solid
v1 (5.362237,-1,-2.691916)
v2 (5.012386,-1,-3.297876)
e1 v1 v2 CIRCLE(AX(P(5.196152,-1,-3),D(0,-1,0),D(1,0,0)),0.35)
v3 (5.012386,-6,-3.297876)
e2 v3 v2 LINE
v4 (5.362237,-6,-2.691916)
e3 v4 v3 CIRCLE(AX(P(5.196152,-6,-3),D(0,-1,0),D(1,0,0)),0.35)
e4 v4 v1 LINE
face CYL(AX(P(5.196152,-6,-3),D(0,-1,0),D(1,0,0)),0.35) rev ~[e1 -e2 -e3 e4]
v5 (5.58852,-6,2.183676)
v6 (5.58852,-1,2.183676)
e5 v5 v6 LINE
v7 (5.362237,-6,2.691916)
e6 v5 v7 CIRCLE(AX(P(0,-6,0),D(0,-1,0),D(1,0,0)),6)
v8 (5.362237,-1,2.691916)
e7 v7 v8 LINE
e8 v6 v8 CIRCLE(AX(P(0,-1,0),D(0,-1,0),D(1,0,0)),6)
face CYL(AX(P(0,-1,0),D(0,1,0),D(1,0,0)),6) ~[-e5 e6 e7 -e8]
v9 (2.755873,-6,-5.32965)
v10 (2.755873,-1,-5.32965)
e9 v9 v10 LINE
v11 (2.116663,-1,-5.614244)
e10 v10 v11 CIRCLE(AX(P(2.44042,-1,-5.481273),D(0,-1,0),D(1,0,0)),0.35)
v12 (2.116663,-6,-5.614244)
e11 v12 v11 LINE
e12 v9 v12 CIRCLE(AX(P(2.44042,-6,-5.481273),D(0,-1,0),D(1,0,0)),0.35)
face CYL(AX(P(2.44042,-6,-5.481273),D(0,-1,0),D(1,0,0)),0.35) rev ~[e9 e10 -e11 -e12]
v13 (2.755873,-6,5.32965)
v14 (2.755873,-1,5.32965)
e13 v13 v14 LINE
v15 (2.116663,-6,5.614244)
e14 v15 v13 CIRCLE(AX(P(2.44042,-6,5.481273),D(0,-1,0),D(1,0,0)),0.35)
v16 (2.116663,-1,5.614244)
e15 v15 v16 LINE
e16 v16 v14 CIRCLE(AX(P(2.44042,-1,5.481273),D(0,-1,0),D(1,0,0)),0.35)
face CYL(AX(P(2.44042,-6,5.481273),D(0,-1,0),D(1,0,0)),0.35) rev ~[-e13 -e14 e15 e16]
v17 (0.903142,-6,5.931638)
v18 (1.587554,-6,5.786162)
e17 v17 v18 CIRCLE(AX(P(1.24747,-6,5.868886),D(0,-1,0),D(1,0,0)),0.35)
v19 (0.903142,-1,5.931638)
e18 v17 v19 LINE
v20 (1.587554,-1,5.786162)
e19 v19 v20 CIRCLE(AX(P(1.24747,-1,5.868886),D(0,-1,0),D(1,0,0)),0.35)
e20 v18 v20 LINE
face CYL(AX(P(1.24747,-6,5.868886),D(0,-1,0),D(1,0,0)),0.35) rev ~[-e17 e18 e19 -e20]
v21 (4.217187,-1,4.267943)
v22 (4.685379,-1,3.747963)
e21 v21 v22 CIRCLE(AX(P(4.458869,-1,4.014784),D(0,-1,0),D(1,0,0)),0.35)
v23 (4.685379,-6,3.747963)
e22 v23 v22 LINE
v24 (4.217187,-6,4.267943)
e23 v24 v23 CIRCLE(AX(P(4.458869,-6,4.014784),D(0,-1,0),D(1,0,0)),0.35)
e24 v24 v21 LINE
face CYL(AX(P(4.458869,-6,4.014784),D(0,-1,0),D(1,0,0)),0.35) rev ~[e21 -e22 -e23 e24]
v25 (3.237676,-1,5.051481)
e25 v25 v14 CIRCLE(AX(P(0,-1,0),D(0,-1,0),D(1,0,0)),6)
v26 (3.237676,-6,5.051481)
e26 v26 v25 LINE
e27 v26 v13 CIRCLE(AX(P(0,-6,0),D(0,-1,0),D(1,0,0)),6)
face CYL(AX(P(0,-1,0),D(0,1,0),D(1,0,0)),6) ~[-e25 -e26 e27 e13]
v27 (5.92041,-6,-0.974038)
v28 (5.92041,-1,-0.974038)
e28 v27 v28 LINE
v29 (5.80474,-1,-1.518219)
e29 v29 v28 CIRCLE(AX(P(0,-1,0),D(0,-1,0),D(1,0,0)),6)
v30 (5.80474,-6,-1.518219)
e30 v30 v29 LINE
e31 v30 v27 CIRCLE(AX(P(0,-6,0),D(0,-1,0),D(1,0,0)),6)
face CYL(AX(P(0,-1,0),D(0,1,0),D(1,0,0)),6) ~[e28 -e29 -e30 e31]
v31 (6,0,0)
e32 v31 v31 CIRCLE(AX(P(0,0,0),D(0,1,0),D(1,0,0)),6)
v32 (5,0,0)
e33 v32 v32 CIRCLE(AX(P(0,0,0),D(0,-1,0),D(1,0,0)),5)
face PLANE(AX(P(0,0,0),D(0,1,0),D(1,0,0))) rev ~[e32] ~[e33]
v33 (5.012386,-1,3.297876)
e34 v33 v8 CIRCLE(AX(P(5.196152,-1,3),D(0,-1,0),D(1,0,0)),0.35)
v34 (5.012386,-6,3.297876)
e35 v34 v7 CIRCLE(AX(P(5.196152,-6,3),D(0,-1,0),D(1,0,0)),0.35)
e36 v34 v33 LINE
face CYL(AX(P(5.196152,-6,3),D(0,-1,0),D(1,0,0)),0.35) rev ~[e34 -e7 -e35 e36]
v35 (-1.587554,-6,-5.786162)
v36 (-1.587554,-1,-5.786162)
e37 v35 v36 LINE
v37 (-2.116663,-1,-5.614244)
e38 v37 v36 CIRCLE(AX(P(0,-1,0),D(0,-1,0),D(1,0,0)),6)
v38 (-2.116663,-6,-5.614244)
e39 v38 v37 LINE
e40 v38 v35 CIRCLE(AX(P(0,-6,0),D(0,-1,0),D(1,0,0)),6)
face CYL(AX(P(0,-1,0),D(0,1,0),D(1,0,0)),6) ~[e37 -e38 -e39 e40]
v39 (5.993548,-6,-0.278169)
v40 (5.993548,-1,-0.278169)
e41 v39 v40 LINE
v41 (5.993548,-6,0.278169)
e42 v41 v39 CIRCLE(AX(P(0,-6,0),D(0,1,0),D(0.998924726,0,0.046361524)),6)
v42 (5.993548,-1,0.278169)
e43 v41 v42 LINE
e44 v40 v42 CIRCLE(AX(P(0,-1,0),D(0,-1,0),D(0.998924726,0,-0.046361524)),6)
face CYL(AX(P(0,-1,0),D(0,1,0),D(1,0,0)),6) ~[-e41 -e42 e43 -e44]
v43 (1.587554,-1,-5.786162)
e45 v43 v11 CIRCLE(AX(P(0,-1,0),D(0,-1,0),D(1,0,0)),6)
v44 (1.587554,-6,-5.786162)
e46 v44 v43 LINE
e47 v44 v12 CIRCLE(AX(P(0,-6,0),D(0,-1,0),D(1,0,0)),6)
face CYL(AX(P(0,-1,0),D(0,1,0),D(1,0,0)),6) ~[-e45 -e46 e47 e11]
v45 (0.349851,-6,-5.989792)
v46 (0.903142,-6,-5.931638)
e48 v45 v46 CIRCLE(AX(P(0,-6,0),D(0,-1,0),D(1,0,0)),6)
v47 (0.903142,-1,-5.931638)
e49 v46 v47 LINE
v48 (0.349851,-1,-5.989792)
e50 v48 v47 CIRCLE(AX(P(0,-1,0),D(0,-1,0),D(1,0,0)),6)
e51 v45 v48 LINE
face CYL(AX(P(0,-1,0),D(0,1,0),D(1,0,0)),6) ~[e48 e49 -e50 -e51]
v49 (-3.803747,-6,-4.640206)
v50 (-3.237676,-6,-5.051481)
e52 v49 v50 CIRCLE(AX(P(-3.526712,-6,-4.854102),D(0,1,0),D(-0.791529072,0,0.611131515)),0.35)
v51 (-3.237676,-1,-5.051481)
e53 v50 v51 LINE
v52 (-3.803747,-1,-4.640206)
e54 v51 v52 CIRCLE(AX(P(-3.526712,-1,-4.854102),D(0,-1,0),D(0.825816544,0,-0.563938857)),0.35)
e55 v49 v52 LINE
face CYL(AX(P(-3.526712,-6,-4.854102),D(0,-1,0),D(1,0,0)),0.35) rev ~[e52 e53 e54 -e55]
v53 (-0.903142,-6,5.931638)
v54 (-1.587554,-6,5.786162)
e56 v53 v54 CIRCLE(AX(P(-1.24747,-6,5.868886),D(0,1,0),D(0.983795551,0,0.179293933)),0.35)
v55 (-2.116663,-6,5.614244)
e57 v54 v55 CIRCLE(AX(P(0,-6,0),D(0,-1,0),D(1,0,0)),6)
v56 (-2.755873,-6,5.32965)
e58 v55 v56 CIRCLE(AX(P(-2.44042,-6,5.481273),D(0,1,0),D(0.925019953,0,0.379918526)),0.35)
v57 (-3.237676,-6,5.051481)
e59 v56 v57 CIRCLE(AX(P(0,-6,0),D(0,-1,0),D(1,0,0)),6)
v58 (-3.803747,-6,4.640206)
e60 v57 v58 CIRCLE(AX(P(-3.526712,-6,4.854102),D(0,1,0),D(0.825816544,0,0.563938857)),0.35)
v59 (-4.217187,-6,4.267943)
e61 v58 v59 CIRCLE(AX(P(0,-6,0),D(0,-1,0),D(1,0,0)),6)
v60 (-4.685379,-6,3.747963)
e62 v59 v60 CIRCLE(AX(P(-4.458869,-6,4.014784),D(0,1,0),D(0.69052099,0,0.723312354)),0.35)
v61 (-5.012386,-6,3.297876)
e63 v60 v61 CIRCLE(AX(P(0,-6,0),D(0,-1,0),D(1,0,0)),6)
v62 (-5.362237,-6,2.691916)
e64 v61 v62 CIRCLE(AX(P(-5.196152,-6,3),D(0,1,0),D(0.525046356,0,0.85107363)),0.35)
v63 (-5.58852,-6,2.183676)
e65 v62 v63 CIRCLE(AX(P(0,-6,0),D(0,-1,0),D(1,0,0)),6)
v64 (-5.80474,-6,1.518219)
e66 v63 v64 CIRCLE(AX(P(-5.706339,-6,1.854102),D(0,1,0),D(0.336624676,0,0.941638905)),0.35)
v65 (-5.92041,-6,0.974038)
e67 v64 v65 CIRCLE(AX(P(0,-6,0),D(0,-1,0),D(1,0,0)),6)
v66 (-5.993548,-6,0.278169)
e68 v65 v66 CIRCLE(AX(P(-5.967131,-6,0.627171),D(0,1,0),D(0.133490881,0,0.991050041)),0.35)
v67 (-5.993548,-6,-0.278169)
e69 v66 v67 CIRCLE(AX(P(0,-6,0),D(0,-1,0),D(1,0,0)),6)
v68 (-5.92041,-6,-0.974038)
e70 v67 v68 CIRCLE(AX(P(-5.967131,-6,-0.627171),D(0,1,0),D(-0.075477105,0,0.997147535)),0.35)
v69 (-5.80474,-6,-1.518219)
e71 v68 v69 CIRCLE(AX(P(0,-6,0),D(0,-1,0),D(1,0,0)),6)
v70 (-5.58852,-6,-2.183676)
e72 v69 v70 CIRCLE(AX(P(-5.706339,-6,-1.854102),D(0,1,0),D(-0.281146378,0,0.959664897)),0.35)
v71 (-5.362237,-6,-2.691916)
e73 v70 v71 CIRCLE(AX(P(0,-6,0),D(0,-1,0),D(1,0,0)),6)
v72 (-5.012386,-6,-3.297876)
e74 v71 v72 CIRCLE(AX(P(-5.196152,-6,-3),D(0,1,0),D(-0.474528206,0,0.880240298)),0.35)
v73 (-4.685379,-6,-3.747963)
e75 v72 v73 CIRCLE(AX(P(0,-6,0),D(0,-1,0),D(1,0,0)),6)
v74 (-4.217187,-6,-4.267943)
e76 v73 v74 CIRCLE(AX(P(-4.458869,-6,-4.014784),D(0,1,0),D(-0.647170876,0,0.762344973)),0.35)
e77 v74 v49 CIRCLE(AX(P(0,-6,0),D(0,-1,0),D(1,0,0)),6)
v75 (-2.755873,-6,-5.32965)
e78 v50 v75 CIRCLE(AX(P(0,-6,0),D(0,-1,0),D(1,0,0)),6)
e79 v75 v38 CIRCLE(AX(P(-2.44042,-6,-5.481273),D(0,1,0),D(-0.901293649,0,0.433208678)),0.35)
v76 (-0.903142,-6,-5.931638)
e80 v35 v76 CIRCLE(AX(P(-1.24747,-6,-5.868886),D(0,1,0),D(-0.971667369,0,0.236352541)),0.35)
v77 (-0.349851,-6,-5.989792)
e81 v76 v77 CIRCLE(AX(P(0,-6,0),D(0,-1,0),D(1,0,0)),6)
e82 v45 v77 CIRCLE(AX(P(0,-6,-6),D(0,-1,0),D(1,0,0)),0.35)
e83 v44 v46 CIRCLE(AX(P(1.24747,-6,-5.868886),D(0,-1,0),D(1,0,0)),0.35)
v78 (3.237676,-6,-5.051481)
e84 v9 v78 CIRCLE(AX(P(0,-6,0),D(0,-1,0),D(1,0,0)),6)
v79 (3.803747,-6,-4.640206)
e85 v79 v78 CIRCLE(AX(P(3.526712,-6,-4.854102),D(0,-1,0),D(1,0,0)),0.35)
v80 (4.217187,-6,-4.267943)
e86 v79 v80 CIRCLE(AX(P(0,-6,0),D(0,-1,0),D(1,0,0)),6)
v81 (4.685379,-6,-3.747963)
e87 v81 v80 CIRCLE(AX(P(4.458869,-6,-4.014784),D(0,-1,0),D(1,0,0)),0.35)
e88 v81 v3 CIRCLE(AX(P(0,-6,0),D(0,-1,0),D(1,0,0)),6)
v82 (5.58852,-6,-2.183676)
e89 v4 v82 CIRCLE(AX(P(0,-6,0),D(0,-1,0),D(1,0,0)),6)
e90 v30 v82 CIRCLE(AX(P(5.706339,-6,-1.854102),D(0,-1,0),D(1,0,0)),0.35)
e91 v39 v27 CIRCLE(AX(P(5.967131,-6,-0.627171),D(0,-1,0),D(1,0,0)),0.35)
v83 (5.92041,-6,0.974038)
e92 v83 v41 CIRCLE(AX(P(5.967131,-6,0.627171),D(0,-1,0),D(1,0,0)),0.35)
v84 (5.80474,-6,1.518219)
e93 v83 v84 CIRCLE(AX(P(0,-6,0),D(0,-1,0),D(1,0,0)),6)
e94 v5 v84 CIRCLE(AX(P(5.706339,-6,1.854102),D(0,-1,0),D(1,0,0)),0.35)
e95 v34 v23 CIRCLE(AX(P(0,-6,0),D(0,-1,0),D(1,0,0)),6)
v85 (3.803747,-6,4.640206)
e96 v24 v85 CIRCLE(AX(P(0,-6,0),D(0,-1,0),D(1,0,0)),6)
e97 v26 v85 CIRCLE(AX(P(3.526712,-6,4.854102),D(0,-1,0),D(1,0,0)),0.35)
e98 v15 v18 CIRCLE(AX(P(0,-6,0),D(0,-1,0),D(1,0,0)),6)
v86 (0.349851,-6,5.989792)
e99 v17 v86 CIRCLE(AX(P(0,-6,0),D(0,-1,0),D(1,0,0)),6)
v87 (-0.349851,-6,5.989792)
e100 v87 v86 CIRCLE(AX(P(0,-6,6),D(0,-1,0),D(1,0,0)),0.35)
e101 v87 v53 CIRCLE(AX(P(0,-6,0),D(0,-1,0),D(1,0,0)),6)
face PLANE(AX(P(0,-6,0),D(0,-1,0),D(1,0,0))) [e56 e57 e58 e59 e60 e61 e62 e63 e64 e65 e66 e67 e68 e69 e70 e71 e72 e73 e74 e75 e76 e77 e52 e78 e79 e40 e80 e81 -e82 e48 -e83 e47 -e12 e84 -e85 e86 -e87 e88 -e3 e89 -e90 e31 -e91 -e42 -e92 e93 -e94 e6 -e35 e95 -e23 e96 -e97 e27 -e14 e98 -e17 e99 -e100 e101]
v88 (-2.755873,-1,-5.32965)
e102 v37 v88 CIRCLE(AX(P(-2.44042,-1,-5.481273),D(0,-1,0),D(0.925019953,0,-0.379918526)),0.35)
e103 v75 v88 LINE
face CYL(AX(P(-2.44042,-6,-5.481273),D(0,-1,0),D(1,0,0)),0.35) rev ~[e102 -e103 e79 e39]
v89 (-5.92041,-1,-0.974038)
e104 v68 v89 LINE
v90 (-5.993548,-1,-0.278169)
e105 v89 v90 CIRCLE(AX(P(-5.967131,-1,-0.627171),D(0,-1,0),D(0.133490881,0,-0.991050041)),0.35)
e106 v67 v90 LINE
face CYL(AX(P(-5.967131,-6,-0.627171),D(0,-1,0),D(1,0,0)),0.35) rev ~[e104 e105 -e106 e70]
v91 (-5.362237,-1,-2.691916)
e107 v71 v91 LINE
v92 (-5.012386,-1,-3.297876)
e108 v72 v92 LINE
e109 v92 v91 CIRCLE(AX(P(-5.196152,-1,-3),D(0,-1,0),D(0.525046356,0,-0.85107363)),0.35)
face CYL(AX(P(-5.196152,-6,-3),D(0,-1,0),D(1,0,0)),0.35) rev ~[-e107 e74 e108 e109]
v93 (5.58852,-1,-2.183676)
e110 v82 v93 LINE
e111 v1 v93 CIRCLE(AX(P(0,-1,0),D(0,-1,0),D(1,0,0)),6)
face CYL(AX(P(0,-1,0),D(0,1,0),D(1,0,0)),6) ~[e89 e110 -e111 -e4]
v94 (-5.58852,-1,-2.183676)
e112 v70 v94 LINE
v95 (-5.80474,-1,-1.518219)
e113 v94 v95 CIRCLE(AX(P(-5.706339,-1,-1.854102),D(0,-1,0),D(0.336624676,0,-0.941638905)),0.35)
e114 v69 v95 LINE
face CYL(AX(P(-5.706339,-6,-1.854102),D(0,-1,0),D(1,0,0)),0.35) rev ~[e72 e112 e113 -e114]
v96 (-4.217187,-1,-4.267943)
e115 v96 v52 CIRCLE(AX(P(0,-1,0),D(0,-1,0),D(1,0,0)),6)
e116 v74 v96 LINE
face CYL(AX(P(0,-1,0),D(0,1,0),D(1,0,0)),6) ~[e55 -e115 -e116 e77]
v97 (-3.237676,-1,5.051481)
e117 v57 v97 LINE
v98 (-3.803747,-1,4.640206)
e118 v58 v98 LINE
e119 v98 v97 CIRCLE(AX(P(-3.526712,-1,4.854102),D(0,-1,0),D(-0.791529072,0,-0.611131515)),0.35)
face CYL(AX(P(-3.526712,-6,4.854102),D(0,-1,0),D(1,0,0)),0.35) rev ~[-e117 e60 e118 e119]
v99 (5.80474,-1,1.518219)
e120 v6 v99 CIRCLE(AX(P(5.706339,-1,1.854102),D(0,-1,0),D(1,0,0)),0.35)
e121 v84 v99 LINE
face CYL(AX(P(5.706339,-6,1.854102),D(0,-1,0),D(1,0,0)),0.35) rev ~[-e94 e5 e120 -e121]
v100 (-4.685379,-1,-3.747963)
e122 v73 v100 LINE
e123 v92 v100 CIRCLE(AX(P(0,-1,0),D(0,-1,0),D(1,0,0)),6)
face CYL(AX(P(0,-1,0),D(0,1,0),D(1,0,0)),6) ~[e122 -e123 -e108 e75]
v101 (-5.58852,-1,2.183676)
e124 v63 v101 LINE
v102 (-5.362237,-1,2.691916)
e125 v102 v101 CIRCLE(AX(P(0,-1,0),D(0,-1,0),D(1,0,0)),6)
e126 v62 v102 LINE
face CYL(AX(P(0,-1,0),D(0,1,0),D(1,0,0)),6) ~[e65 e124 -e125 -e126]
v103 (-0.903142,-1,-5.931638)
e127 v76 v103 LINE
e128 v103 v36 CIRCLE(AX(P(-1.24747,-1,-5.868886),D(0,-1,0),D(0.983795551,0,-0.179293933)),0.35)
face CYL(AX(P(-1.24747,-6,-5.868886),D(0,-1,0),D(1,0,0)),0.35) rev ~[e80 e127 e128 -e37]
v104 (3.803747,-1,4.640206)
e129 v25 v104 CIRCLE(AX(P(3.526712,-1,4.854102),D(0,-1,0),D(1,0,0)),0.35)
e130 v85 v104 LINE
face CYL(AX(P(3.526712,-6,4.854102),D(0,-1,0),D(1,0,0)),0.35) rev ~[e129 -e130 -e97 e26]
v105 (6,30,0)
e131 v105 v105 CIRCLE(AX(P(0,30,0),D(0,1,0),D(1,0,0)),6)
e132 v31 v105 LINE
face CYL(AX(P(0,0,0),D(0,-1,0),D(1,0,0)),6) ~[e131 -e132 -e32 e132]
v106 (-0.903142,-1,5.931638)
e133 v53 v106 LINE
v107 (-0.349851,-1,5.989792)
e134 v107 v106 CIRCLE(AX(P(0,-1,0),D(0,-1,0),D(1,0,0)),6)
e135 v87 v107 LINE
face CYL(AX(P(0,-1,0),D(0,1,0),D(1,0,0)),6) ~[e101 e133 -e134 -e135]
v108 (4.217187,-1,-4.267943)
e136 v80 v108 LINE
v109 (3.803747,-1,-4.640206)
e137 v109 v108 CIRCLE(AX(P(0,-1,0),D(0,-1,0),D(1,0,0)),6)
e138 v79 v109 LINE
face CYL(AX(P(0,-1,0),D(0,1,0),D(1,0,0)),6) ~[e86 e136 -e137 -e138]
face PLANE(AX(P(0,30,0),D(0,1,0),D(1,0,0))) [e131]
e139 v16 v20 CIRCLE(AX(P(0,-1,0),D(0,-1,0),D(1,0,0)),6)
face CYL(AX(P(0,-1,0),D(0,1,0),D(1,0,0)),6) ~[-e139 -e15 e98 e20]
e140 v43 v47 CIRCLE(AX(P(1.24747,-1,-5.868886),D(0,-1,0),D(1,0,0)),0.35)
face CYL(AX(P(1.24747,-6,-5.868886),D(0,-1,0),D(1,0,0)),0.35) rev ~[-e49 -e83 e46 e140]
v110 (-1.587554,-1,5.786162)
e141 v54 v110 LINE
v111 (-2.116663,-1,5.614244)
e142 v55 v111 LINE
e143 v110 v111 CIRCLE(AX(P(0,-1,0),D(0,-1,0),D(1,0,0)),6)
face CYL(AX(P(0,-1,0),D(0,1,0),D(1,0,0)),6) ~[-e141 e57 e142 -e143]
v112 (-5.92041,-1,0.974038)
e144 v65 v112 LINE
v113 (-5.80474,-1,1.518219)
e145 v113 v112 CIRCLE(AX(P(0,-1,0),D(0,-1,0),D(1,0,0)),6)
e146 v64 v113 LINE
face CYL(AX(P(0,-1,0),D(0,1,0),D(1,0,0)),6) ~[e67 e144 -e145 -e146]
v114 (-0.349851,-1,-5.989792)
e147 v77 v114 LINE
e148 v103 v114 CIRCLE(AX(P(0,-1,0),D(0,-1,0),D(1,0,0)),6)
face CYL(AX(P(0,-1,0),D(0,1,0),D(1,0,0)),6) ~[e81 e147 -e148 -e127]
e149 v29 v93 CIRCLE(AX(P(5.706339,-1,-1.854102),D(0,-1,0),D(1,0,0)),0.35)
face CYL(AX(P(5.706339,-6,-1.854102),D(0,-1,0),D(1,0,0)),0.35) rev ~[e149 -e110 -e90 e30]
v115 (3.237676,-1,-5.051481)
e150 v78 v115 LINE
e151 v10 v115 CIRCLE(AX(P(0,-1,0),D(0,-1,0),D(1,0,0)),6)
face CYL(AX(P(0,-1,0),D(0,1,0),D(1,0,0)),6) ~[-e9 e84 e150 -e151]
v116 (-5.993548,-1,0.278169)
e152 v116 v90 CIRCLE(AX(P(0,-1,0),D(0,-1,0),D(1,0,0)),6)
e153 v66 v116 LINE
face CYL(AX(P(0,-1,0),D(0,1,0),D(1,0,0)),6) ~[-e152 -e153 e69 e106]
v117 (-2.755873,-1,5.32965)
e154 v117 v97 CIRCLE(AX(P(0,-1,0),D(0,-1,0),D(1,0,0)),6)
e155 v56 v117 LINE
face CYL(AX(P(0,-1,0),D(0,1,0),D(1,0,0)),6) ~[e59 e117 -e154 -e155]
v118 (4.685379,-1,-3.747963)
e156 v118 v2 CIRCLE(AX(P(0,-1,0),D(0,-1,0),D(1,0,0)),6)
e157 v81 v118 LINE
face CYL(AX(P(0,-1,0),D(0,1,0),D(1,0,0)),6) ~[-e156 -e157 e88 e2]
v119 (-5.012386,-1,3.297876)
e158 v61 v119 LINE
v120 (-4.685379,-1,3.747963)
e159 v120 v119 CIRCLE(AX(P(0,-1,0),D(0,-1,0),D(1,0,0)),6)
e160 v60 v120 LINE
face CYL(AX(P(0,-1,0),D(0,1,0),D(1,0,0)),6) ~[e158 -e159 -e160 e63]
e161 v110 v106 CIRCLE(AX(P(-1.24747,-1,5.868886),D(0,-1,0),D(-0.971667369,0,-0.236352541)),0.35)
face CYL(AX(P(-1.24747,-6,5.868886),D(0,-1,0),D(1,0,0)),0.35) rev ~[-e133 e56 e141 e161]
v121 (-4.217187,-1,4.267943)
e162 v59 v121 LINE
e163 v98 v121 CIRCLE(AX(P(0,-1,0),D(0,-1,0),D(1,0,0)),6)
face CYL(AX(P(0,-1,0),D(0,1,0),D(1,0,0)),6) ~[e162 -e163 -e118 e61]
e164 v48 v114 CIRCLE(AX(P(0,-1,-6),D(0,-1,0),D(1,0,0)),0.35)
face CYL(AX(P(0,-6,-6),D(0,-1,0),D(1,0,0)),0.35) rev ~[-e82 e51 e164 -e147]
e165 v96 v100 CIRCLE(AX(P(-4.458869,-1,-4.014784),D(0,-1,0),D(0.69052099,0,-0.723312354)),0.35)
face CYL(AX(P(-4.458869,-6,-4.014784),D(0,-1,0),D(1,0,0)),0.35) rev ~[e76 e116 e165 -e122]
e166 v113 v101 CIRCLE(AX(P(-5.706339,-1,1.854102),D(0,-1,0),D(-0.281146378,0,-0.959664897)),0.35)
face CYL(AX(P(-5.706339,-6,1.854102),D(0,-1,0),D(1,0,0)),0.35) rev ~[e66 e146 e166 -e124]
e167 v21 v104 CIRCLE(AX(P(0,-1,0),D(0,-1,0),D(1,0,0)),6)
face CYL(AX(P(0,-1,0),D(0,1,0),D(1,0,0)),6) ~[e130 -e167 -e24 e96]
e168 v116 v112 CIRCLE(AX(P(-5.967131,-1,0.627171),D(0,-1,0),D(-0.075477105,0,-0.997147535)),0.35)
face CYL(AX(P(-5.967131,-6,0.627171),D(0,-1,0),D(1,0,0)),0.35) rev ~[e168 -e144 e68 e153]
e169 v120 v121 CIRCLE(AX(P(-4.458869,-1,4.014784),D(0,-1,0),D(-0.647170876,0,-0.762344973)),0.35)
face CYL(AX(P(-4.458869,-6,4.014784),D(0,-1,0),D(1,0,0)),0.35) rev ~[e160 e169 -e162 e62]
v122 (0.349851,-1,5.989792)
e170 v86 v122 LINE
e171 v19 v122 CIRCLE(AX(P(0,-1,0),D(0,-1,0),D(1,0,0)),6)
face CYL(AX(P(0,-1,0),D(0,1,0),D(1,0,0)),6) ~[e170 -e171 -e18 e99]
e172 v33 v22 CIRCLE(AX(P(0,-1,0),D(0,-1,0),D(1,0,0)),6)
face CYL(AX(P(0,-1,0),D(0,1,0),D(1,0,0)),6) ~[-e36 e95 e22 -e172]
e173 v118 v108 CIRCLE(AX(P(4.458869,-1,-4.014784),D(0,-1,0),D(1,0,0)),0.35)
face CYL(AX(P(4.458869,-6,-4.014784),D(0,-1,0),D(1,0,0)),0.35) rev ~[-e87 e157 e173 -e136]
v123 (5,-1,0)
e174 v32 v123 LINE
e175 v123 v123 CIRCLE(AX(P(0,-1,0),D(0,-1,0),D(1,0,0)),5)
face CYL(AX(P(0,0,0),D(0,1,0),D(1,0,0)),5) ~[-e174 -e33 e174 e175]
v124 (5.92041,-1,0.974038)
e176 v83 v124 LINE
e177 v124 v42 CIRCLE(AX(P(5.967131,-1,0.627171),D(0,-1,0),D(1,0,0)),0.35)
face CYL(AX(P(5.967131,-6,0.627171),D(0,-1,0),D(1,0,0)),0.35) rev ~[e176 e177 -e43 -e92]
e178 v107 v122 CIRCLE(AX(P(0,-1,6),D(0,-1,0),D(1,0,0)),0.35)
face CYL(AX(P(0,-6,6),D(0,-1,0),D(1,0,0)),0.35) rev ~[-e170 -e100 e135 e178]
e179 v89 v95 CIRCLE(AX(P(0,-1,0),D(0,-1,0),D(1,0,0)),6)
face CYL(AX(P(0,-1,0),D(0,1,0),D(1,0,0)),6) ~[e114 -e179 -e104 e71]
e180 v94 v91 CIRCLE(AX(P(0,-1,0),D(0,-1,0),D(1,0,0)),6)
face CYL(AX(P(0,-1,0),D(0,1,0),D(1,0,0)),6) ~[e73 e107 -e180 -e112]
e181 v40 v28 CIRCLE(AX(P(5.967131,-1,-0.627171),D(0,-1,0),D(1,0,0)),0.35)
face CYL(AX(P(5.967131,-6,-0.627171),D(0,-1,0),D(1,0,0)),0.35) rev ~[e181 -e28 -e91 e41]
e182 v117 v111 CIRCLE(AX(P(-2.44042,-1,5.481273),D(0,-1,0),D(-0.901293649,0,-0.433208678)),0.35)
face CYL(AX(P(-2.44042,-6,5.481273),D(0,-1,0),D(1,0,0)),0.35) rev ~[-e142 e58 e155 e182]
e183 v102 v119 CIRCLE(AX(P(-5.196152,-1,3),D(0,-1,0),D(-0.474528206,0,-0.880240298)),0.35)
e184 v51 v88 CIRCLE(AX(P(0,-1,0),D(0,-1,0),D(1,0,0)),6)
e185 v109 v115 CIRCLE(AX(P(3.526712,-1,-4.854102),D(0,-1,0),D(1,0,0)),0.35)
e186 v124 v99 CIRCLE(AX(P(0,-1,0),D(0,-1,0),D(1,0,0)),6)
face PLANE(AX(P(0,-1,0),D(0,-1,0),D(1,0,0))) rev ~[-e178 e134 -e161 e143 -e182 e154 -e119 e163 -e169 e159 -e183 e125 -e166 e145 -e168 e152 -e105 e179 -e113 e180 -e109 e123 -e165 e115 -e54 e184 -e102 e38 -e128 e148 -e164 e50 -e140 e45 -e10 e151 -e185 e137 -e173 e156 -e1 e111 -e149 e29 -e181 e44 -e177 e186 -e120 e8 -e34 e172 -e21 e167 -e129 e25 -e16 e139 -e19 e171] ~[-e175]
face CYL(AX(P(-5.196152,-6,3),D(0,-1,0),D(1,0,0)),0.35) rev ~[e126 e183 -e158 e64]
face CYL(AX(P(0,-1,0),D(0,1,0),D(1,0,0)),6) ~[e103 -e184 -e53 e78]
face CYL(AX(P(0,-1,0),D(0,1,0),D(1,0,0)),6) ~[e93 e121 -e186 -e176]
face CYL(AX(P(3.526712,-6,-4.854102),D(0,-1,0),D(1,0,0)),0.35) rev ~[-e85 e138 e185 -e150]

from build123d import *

# Parameters (mm, degrees)
CROQUIS1_R              = 6
SALIENTE_EXTRUIR1_DEPTH = 30
CROQUIS3_R              = 5
SALIENTE_EXTRUIR2_DEPTH = 1
CROQUIS4_R              = 6
SALIENTE_EXTRUIR3_DEPTH = 5
CROQUIS5_R              = 0.35
CORTAR_EXTRUIR1_DEPTH   = 5


with BuildPart() as part:
    # Croquis1 → Saliente-Extruir1 (new body)
    with BuildSketch(Plane(origin=(0, 0, 0), x_dir=(1, 0, 0), z_dir=(0, 1, 0))):
        Circle(CROQUIS1_R)
    extrude(amount=SALIENTE_EXTRUIR1_DEPTH)

    # Croquis3 → Saliente-Extruir2 (add)
    with BuildSketch(Plane.XZ):
        Circle(CROQUIS3_R)
    extrude(amount=SALIENTE_EXTRUIR2_DEPTH)

    # Croquis4 → Saliente-Extruir3 (add)
    with BuildSketch(Plane.XZ.offset(1)):
        Circle(CROQUIS4_R)
    extrude(amount=SALIENTE_EXTRUIR3_DEPTH)

    # Croquis5 → Cortar-Extruir1 (cut)
    with BuildSketch(Plane.XZ.offset(6)):
        with Locations((0, 6)):
            Circle(CROQUIS5_R)
        with Locations((1.247470145, 5.868885604)):
            Circle(CROQUIS5_R)
        with Locations((2.440419858, 5.481272746)):
            Circle(CROQUIS5_R)
        with Locations((3.526711514, 4.854101966)):
            Circle(CROQUIS5_R)
        with Locations((4.458868953, 4.014783638)):
            Circle(CROQUIS5_R)
        with Locations((5.196152423, 3)):
            Circle(CROQUIS5_R)
        with Locations((5.706339098, 1.854101966)):
            Circle(CROQUIS5_R)
        with Locations((5.967131372, 0.62717078)):
            Circle(CROQUIS5_R)
        with Locations((5.967131372, -0.62717078)):
            Circle(CROQUIS5_R)
        with Locations((5.706339098, -1.854101966)):
            Circle(CROQUIS5_R)
        with Locations((5.196152423, -3)):
            Circle(CROQUIS5_R)
        with Locations((4.458868953, -4.014783638)):
            Circle(CROQUIS5_R)
        with Locations((3.526711514, -4.854101966)):
            Circle(CROQUIS5_R)
        with Locations((2.440419858, -5.481272746)):
            Circle(CROQUIS5_R)
        with Locations((1.247470145, -5.868885604)):
            Circle(CROQUIS5_R)
        with Locations((0, -6)):
            Circle(CROQUIS5_R)
        with Locations((-1.247470145, -5.868885604)):
            Circle(CROQUIS5_R)
        with Locations((-2.440419858, -5.481272746)):
            Circle(CROQUIS5_R)
        with Locations((-3.526711514, -4.854101966)):
            Circle(CROQUIS5_R)
        with Locations((-4.458868953, -4.014783638)):
            Circle(CROQUIS5_R)
        with Locations((-5.196152423, -3)):
            Circle(CROQUIS5_R)
        with Locations((-5.706339098, -1.854101966)):
            Circle(CROQUIS5_R)
        with Locations((-5.967131372, -0.62717078)):
            Circle(CROQUIS5_R)
        with Locations((-5.967131372, 0.62717078)):
            Circle(CROQUIS5_R)
        with Locations((-5.706339098, 1.854101966)):
            Circle(CROQUIS5_R)
        with Locations((-5.196152423, 3)):
            Circle(CROQUIS5_R)
        with Locations((-4.458868953, 4.014783638)):
            Circle(CROQUIS5_R)
        with Locations((-3.526711514, 4.854101966)):
            Circle(CROQUIS5_R)
        with Locations((-2.440419858, 5.481272746)):
            Circle(CROQUIS5_R)
        with Locations((-1.247470145, 5.868885604)):
            Circle(CROQUIS5_R)
    extrude(amount=-CORTAR_EXTRUIR1_DEPTH, mode=Mode.SUBTRACT)


solid = part.part
